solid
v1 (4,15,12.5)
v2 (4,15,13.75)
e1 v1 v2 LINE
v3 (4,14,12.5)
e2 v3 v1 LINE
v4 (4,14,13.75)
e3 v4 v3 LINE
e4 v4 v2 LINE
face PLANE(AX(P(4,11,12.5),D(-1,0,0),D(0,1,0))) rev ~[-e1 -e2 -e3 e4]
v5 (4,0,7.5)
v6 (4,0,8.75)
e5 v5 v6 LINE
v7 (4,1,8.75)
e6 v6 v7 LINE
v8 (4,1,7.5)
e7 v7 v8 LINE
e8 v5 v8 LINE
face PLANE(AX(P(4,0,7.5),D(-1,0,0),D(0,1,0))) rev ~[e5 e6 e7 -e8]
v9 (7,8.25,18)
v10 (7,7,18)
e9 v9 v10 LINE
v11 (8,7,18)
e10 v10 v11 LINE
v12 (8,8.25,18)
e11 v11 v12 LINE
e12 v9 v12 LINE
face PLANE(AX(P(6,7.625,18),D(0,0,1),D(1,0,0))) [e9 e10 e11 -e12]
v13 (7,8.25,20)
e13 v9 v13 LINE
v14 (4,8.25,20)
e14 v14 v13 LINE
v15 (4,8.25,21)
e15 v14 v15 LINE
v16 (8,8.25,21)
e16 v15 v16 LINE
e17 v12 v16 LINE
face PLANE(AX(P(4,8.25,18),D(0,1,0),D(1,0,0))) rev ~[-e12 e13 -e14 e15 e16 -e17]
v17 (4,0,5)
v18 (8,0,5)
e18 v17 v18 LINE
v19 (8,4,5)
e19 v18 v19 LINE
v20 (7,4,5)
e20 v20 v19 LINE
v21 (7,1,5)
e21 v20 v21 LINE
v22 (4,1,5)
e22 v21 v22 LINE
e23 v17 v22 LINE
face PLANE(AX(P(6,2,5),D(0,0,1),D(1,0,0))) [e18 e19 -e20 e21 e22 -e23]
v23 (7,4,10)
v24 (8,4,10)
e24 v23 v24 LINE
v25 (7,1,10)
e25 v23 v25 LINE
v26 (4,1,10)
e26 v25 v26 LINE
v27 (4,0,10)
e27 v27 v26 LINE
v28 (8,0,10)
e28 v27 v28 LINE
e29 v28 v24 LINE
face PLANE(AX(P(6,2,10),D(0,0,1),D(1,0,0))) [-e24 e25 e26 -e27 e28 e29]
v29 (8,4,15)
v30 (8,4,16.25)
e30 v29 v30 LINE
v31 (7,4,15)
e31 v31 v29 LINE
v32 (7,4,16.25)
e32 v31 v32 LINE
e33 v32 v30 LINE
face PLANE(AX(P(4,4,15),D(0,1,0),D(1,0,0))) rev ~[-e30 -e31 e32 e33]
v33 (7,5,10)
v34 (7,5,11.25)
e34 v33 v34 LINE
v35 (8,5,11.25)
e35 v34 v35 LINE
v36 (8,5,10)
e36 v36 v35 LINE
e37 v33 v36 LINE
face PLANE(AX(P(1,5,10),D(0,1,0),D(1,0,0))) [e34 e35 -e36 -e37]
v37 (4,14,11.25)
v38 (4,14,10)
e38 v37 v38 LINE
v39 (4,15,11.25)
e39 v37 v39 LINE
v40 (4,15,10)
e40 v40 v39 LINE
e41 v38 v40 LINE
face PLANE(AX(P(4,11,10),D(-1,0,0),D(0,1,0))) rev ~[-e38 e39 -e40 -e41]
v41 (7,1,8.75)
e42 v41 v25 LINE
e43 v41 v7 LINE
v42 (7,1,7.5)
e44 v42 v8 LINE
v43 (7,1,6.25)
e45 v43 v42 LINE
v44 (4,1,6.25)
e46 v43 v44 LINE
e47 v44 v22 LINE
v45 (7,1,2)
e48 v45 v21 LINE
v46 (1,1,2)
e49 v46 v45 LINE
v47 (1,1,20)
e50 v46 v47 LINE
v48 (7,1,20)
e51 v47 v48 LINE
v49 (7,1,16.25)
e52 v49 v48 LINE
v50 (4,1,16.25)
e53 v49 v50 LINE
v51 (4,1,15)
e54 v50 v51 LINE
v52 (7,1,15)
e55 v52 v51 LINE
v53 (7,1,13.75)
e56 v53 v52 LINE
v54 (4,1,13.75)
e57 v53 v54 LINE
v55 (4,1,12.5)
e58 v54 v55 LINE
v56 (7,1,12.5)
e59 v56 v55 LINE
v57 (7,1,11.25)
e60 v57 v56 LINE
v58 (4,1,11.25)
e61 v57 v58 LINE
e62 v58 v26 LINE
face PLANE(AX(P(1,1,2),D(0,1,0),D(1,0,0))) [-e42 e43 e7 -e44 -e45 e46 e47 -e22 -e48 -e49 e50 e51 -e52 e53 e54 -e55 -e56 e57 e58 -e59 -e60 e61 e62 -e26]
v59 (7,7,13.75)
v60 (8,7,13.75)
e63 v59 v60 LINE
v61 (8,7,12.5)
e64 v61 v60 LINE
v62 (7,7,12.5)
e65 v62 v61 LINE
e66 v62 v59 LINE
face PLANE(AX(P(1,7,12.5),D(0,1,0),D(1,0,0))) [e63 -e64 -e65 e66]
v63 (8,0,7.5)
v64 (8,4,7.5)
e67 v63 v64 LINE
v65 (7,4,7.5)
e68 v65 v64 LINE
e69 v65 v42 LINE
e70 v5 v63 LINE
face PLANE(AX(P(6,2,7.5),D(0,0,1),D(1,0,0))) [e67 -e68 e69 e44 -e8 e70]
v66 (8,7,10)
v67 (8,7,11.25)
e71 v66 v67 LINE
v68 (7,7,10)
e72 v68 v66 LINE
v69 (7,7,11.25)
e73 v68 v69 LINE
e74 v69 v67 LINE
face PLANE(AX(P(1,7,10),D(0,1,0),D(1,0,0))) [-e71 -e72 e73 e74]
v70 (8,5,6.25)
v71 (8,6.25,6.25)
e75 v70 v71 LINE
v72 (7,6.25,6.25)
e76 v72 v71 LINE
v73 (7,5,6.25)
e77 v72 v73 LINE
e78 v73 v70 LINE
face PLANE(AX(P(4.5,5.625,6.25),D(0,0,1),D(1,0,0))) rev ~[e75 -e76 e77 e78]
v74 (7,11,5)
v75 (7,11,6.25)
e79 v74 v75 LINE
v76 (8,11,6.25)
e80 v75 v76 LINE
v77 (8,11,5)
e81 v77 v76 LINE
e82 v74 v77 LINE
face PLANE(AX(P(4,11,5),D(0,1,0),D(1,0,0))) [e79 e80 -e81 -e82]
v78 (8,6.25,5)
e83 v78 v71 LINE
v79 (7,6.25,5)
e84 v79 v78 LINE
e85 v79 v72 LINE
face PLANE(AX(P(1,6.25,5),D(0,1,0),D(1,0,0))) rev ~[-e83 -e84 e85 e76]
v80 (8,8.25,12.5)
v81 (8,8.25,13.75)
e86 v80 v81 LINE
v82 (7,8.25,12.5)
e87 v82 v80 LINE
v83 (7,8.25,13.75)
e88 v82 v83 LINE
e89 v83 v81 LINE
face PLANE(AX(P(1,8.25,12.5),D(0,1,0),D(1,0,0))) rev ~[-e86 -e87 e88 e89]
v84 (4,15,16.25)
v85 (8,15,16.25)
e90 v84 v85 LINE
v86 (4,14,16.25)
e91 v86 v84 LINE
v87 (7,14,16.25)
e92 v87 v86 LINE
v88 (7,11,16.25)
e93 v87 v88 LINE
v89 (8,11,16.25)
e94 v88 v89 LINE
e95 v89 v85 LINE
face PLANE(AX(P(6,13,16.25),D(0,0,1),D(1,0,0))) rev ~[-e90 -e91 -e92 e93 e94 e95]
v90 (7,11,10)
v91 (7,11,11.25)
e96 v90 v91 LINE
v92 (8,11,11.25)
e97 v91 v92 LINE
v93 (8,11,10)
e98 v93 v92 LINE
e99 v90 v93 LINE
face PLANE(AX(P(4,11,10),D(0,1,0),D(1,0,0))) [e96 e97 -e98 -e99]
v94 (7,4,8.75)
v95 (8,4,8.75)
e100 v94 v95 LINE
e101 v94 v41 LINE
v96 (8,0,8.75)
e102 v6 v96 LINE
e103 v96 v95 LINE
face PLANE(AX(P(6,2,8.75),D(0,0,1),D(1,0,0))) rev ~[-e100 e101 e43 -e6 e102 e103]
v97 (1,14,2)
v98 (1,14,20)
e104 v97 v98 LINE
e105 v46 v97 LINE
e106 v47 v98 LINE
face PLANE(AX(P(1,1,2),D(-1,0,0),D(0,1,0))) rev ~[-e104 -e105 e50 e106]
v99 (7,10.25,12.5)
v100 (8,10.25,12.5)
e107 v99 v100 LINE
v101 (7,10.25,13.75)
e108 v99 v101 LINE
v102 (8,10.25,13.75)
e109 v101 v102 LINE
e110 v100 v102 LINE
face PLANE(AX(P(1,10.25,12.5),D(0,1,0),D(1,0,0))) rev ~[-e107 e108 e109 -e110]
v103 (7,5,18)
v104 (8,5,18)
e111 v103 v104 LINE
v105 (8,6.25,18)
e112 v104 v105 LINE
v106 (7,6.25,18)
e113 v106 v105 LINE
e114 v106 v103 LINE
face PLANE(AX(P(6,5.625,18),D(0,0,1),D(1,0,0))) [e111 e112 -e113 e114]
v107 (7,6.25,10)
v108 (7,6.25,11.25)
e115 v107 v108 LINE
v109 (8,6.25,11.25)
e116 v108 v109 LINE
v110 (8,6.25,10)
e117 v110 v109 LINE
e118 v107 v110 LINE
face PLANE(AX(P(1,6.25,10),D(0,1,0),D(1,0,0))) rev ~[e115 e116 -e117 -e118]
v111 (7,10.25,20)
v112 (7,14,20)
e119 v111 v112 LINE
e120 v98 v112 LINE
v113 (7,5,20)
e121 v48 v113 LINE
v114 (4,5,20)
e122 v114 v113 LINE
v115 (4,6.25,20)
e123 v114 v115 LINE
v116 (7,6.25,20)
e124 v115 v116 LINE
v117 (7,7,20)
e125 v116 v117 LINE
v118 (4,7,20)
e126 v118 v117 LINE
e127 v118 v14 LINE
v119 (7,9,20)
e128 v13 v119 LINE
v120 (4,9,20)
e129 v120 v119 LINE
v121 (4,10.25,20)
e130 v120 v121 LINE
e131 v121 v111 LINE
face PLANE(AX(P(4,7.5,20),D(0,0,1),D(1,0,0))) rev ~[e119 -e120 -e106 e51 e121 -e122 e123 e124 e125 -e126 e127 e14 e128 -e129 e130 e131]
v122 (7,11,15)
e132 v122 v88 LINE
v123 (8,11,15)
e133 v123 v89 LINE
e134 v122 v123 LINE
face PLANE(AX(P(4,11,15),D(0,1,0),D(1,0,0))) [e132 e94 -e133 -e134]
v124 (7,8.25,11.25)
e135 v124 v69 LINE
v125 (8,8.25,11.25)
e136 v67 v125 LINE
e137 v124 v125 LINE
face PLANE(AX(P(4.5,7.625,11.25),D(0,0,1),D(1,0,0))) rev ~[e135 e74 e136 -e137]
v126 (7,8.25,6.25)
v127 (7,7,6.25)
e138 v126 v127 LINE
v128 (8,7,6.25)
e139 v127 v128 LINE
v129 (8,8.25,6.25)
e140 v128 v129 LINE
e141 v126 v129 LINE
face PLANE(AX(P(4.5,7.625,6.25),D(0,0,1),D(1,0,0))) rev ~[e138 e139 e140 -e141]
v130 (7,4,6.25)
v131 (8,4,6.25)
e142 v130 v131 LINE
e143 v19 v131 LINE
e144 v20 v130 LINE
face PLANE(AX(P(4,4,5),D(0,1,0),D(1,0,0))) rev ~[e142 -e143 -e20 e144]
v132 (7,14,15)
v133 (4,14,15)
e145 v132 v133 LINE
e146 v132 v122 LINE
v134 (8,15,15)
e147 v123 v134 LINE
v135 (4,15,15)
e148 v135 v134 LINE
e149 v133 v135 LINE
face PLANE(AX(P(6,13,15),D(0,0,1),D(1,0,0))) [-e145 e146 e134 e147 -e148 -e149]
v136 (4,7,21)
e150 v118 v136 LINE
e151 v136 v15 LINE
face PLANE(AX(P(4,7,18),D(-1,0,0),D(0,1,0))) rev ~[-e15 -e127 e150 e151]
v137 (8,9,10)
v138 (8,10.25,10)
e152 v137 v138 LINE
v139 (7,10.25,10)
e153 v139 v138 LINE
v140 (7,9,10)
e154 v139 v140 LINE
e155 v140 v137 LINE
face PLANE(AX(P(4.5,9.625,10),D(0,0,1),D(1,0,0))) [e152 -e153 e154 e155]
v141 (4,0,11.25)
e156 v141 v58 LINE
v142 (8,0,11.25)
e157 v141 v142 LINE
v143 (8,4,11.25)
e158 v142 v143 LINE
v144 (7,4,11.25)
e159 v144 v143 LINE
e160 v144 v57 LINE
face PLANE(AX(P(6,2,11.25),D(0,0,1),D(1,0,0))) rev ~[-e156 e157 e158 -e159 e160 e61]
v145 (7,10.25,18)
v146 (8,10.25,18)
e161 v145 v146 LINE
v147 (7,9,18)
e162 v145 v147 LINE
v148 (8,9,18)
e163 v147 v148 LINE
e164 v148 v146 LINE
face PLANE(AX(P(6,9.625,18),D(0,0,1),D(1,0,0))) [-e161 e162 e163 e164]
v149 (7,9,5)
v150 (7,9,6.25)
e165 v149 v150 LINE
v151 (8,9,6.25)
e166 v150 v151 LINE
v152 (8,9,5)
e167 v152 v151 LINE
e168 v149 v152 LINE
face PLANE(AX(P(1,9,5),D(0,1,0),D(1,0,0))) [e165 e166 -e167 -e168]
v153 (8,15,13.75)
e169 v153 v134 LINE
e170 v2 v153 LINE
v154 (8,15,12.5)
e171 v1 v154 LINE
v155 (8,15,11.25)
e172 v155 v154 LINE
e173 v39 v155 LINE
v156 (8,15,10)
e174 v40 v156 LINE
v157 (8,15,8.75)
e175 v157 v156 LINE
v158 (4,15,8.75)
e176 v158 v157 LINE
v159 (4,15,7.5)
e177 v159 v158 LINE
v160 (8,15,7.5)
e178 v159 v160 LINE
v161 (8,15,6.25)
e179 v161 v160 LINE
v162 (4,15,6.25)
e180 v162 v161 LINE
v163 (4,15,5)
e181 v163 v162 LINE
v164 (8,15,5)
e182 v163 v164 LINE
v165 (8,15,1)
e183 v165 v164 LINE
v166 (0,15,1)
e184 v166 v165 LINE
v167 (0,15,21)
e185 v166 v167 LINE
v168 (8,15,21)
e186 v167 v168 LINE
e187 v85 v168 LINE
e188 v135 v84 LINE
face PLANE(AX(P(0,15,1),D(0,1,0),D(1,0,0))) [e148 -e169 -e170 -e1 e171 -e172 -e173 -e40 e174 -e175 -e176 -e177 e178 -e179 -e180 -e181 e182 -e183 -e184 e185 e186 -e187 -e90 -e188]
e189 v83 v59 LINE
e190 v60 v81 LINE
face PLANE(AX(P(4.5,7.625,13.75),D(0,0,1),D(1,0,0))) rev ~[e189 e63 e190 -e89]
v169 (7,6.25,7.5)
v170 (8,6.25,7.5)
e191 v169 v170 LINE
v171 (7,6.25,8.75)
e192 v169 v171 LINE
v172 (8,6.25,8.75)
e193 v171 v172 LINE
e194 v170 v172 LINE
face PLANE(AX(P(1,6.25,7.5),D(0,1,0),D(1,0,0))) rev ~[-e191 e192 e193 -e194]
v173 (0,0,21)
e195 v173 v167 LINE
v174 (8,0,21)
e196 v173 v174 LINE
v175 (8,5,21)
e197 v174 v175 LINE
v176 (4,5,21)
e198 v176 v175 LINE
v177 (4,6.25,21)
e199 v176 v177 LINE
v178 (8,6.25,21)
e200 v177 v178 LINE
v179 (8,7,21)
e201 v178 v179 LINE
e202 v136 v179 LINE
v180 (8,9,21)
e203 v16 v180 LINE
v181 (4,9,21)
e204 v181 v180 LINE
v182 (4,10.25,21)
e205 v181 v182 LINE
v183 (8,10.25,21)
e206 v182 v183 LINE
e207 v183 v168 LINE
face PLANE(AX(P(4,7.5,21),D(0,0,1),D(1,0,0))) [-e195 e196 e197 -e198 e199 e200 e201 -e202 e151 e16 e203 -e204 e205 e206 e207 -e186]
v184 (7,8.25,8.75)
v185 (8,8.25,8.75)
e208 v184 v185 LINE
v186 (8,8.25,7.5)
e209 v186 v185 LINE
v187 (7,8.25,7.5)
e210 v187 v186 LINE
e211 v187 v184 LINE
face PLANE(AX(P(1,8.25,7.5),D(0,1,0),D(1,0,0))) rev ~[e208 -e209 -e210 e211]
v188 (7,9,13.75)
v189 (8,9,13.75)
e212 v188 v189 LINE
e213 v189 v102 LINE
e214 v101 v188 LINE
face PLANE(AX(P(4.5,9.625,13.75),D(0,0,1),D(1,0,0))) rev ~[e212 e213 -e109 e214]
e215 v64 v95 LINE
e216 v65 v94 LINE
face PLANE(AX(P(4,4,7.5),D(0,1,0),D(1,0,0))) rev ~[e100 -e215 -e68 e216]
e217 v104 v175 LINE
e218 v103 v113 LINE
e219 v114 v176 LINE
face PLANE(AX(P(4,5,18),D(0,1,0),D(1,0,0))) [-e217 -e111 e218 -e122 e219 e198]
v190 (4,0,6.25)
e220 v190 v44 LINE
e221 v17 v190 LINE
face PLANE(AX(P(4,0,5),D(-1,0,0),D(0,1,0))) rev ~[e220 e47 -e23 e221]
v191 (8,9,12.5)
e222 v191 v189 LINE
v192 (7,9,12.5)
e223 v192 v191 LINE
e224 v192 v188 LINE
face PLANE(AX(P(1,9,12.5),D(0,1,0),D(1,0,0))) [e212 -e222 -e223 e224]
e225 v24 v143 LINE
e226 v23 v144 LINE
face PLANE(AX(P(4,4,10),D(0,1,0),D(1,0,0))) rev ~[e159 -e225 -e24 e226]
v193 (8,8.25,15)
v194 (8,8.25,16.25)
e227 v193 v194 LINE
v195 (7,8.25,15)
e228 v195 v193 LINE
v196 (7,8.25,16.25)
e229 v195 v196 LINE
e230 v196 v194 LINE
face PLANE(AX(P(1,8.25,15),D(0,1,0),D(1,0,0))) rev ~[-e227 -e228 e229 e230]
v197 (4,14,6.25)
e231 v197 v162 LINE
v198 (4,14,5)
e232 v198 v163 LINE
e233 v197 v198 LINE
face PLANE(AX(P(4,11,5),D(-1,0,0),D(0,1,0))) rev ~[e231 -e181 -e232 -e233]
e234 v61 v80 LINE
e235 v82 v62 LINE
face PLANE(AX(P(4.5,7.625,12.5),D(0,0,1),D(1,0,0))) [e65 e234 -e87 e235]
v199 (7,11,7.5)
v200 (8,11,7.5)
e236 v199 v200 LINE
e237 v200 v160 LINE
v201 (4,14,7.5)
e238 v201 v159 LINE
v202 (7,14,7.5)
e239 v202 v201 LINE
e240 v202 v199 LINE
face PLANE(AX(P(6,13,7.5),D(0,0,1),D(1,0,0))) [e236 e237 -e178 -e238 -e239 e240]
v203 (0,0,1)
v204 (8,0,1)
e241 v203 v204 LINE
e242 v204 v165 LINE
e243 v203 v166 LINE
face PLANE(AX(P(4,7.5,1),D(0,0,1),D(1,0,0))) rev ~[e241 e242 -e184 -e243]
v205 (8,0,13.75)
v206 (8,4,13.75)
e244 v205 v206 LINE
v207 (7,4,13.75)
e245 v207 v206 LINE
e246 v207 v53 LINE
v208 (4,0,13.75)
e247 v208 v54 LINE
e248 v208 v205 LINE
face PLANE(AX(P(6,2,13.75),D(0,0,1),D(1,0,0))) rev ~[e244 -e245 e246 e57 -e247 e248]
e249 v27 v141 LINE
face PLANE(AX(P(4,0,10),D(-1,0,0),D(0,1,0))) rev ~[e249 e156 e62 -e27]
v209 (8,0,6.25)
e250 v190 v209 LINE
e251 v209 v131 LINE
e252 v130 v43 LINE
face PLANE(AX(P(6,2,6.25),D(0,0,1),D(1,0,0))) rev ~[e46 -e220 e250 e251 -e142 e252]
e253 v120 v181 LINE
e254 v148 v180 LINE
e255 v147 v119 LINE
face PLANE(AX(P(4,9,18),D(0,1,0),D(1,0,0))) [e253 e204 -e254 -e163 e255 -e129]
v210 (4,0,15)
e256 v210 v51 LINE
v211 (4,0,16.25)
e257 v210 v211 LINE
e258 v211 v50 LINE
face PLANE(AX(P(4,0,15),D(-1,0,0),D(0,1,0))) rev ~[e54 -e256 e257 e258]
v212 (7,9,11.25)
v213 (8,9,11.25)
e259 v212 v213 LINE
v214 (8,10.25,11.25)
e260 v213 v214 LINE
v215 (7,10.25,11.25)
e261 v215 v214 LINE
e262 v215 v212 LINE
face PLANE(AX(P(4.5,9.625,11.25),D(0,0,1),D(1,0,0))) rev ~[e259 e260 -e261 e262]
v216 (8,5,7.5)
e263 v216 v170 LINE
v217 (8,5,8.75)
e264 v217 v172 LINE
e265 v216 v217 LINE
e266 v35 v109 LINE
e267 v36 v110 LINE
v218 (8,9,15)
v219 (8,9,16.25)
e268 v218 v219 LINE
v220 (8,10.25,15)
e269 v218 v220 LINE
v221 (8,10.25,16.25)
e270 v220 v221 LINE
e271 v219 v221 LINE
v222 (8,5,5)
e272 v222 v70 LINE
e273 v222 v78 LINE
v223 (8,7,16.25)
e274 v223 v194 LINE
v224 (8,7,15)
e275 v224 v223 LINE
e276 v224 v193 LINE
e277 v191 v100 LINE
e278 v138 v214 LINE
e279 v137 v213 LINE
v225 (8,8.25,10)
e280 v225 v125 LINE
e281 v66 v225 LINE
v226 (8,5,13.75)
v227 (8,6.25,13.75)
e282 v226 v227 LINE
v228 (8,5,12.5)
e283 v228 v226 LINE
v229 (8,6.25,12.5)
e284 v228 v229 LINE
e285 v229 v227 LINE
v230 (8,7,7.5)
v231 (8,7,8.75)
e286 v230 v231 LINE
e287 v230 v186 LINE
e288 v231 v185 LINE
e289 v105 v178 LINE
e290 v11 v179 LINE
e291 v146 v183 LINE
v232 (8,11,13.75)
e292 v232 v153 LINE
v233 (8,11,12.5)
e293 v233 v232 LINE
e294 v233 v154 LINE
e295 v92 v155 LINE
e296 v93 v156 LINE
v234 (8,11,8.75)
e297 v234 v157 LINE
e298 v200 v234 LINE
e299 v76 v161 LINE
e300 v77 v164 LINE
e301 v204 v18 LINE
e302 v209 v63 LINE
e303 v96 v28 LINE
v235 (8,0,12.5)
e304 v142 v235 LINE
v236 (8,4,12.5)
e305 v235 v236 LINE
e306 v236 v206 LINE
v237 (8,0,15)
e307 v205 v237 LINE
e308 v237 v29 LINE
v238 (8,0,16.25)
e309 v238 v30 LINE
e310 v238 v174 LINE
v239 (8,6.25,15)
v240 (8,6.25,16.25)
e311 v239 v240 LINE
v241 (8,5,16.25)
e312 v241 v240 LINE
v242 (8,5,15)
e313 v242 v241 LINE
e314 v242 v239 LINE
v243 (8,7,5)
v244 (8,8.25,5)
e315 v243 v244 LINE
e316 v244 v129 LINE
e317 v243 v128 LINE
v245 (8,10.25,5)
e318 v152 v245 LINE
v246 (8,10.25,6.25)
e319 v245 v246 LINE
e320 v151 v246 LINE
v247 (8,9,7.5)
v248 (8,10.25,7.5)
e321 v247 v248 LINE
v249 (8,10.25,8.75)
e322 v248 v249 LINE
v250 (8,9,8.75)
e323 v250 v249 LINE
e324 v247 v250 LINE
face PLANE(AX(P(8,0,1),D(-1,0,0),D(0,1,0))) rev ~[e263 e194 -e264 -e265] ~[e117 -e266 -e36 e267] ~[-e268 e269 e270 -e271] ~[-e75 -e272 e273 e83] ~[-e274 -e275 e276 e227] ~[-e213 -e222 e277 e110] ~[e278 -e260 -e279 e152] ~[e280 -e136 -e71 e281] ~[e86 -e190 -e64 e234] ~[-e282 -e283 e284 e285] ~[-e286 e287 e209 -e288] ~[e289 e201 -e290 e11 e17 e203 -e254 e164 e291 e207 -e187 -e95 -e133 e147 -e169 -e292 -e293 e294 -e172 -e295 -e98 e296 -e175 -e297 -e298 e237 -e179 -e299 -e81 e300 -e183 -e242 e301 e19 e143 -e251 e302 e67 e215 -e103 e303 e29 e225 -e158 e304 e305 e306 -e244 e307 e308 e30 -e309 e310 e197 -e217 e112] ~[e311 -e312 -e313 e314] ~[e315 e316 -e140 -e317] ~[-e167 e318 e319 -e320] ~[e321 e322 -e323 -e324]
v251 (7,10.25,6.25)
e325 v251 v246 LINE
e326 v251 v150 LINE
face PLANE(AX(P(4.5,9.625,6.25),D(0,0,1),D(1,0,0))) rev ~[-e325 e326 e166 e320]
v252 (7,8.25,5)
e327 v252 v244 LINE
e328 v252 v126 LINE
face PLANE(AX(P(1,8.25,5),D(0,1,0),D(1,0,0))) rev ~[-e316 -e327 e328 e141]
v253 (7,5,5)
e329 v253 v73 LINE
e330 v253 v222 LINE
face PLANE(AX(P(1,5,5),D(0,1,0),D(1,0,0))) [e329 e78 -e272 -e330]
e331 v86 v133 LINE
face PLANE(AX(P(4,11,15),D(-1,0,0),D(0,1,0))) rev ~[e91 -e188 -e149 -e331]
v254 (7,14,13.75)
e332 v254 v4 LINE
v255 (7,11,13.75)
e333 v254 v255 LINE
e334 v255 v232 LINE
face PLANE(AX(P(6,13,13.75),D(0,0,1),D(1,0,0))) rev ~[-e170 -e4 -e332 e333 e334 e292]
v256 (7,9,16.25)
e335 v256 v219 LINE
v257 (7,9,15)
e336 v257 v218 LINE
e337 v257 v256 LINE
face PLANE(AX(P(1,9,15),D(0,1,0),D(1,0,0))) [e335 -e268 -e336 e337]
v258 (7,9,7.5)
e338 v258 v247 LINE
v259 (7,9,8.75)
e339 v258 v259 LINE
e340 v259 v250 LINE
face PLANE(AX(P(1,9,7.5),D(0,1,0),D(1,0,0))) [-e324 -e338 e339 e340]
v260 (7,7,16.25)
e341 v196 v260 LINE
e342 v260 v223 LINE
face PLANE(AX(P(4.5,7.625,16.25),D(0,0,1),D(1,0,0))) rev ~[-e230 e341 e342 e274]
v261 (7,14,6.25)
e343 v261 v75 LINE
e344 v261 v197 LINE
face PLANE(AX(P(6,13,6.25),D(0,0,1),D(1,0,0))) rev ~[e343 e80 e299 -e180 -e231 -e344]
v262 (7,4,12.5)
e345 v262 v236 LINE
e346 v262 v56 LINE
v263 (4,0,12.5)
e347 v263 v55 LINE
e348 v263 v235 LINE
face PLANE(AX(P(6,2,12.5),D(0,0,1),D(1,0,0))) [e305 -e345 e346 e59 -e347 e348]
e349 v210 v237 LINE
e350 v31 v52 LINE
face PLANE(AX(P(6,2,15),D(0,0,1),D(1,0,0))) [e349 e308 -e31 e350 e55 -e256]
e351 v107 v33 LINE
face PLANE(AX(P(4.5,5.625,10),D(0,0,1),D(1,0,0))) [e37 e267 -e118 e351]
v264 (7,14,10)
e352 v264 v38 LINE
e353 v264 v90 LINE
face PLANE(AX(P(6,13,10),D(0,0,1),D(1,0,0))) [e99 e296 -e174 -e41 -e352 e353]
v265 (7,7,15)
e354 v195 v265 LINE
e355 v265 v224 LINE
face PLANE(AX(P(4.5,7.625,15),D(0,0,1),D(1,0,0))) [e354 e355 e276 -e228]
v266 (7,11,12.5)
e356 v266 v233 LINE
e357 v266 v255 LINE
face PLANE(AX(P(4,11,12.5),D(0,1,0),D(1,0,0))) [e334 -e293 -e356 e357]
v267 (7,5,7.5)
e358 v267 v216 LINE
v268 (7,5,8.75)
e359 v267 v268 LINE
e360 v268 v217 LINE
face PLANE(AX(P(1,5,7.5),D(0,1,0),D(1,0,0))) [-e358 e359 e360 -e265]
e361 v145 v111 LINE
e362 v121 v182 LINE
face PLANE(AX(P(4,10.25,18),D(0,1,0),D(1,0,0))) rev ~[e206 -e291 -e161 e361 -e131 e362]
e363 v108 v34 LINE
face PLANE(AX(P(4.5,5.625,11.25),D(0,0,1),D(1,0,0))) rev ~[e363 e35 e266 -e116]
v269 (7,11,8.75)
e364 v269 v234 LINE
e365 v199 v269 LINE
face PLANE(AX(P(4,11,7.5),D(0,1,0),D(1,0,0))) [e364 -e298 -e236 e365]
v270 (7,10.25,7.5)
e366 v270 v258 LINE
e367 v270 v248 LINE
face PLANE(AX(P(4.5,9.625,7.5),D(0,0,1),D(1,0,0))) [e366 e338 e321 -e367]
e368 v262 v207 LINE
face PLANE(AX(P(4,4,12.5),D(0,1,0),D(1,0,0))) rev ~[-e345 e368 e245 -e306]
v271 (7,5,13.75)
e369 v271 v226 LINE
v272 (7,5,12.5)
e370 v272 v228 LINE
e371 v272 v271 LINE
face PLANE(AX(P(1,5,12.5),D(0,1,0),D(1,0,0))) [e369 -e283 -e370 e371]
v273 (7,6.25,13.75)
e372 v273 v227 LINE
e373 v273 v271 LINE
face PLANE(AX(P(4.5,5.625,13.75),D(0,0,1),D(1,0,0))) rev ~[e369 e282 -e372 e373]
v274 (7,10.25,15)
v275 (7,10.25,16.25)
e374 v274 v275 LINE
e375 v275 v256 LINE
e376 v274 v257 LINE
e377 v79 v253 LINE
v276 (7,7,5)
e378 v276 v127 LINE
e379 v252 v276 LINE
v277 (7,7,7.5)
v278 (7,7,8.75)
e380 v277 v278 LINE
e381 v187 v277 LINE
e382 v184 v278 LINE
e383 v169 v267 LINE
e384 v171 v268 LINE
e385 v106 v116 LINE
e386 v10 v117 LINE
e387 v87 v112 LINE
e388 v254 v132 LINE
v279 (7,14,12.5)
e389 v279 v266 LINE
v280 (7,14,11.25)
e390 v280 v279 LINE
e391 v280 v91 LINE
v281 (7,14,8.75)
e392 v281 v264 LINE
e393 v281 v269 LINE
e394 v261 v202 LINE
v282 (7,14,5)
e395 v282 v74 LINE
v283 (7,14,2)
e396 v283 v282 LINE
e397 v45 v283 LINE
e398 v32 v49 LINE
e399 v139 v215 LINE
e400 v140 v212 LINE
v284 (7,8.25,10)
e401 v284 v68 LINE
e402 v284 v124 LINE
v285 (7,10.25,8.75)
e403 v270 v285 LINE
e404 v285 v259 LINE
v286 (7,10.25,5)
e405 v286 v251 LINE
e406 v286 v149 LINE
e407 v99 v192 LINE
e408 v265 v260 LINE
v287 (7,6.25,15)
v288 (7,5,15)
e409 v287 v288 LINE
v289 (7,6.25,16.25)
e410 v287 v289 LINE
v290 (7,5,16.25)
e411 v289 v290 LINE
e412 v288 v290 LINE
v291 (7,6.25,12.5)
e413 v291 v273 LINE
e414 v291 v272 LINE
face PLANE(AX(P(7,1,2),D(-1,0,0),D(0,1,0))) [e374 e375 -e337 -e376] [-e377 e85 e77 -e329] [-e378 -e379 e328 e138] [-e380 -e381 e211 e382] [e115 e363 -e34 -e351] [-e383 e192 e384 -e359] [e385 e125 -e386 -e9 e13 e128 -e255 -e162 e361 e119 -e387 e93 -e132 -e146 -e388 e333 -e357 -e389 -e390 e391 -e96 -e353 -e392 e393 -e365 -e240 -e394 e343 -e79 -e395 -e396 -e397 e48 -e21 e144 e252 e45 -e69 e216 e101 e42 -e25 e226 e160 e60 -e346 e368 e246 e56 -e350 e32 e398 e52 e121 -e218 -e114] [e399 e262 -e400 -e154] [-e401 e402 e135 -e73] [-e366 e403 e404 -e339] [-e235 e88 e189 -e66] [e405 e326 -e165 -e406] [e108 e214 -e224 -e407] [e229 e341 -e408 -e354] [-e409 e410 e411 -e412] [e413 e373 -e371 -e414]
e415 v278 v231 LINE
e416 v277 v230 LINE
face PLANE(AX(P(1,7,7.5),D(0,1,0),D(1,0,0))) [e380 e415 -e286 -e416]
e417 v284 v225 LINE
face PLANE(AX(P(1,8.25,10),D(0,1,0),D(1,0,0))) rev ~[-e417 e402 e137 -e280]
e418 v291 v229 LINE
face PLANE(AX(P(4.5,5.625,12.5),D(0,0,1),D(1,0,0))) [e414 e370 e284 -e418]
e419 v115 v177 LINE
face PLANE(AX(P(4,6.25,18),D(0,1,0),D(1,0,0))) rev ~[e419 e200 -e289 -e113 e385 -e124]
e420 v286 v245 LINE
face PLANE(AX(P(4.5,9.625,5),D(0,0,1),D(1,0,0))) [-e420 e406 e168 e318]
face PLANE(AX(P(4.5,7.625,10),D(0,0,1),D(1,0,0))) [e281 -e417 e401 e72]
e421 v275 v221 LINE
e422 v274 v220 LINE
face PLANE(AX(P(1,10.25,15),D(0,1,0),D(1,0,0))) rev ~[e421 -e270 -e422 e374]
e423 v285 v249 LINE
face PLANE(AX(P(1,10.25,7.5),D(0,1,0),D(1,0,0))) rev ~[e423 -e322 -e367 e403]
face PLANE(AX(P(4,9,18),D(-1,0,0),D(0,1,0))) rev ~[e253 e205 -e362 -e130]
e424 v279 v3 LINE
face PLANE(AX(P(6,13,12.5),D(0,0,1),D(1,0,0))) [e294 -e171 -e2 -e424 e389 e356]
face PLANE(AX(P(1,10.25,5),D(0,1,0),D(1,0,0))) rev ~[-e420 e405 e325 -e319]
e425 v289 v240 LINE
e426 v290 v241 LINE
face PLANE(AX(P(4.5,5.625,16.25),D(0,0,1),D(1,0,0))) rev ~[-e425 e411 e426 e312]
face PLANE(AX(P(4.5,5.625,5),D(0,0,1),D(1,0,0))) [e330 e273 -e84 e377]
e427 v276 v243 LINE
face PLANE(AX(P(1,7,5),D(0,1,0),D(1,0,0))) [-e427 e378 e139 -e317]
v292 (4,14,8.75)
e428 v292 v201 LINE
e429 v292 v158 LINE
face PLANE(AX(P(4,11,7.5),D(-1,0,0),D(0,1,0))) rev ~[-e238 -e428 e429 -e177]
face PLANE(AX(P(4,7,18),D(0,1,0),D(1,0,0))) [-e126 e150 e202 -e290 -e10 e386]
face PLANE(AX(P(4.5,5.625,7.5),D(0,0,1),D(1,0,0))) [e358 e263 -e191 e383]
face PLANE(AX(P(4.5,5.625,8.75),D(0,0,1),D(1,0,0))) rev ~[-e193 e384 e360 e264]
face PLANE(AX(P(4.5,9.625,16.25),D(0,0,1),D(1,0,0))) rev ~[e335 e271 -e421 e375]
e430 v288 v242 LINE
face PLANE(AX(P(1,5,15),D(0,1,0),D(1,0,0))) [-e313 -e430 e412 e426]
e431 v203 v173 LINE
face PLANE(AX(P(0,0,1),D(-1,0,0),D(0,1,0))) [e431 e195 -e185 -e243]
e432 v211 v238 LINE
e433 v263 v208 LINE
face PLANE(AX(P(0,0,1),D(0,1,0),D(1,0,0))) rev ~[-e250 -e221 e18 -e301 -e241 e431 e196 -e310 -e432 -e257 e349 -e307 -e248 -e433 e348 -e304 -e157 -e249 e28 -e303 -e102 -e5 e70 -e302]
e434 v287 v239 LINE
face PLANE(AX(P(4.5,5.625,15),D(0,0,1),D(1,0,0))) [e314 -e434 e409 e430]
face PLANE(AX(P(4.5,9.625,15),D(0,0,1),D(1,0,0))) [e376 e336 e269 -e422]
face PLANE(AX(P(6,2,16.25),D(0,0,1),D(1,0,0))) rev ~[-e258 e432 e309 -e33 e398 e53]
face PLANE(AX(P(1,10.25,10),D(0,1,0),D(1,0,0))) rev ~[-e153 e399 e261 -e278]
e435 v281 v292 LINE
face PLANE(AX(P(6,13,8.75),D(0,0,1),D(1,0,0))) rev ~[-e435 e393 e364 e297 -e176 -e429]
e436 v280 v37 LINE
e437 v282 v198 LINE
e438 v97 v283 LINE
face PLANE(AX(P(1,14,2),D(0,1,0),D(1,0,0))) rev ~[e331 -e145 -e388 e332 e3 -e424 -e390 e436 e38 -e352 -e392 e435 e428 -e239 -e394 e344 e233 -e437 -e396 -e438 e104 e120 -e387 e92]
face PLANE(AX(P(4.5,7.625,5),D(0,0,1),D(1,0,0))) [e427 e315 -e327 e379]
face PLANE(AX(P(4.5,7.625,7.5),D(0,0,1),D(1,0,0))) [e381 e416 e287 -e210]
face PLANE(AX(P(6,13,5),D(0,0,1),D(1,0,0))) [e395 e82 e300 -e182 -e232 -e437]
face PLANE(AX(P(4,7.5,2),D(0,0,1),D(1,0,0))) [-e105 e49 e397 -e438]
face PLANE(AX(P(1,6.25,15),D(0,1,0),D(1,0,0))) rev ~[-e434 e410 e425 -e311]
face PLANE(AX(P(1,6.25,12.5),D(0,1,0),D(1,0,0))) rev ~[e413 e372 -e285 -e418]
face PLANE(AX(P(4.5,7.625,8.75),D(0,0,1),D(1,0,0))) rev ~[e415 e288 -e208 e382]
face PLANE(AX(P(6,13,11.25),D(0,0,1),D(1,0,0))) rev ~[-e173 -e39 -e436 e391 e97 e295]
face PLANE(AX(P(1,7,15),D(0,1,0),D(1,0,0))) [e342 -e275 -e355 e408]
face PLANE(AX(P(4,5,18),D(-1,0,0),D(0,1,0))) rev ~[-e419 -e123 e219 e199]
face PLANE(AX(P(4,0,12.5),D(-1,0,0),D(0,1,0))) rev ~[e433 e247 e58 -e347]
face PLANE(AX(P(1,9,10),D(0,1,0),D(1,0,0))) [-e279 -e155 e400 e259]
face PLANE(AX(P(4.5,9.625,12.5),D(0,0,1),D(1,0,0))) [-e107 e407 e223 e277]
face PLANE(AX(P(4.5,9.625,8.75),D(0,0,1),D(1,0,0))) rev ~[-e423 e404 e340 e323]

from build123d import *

# Parameters (mm, degrees)
BOX029_W     = 6
BOX029_H     = 13
BOX029_DEPTH = 18
BOX027_W     = 4
BOX027_H     = 1.25
BOX027_DEPTH = 3
BOX026_W     = 4
BOX026_H     = 1.25
BOX026_DEPTH = 3
BOX028_W     = 4
BOX028_H     = 1.25
BOX028_DEPTH = 3
BOX025_W     = 4
BOX025_H     = 4
BOX025_DEPTH = 1.25
BOX024_W     = 4
BOX024_H     = 4
BOX024_DEPTH = 1.25
BOX023_W     = 4
BOX023_H     = 4
BOX023_DEPTH = 1.25
BOX022_W     = 4
BOX022_H     = 4
BOX022_DEPTH = 1.25
BOX021_W     = 4
BOX021_H     = 4
BOX021_DEPTH = 1.25
BOX020_W     = 4
BOX020_H     = 4
BOX020_DEPTH = 1.25
BOX019_W     = 4
BOX019_H     = 4
BOX019_DEPTH = 1.25
BOX018_W     = 4
BOX018_H     = 4
BOX018_DEPTH = 1.25
BOX017_W     = 4
BOX017_H     = 4
BOX017_DEPTH = 1.25
BOX016_W     = 4
BOX016_H     = 4
BOX016_DEPTH = 1.25
BOX015_W     = 7
BOX015_H     = 1.25
BOX015_DEPTH = 1.25
BOX014_W     = 7
BOX014_H     = 1.25
BOX014_DEPTH = 1.25
BOX013_W     = 7
BOX013_H     = 1.25
BOX013_DEPTH = 1.25
BOX012_W     = 7
BOX012_H     = 1.25
BOX012_DEPTH = 1.25
BOX011_W     = 7
BOX011_H     = 1.25
BOX011_DEPTH = 1.25
BOX010_W     = 7
BOX010_H     = 1.25
BOX010_DEPTH = 1.25
BOX009_W     = 7
BOX009_H     = 1.25
BOX009_DEPTH = 1.25
BOX008_W     = 7
BOX008_H     = 1.25
BOX008_DEPTH = 1.25
BOX007_W     = 7
BOX007_H     = 1.25
BOX007_DEPTH = 1.25
BOX006_W     = 7
BOX006_H     = 1.25
BOX006_DEPTH = 1.25
BOX005_W     = 7
BOX005_H     = 1.25
BOX005_DEPTH = 1.25
BOX004_W     = 7
BOX004_H     = 1.25
BOX004_DEPTH = 1.25
BOX003_W     = 7
BOX003_H     = 1.25
BOX003_DEPTH = 1.25
BOX002_W     = 7
BOX002_H     = 1.25
BOX002_DEPTH = 1.25
BOX001_W     = 7
BOX001_H     = 1.25
BOX001_DEPTH = 1.25
BOX_W        = 8
BOX_H        = 15
BOX_DEPTH    = 20


with BuildPart() as middle:
    # Box029 → Box029 (new body)
    with BuildSketch(Plane(origin=(1, 1, 2), x_dir=(1, 0, 0), z_dir=(0, 0, 1))):
        with Locations((3, 6.5)):
            Rectangle(BOX029_W, BOX029_H)
    extrude(amount=BOX029_DEPTH)


with BuildPart() as cube027:
    # Box027 → Box027 (new body)
    with BuildSketch(Plane(origin=(4, 7, 18), x_dir=(1, 0, 0), z_dir=(0, 0, 1))):
        with Locations((2, 0.625)):
            Rectangle(BOX027_W, BOX027_H)
    extrude(amount=BOX027_DEPTH)


with BuildPart() as cube026:
    # Box026 → Box026 (new body)
    with BuildSketch(Plane(origin=(4, 9, 18), x_dir=(1, 0, 0), z_dir=(0, 0, 1))):
        with Locations((2, 0.625)):
            Rectangle(BOX026_W, BOX026_H)
    extrude(amount=BOX026_DEPTH)


with BuildPart() as cube028:
    # Box028 → Box028 (new body)
    with BuildSketch(Plane(origin=(4, 5, 18), x_dir=(1, 0, 0), z_dir=(0, 0, 1))):
        with Locations((2, 0.625)):
            Rectangle(BOX028_W, BOX028_H)
    extrude(amount=BOX028_DEPTH)


with BuildPart() as cube025:
    # Box025 → Box025 (new body)
    with BuildSketch(Plane(origin=(4, 11, 5), x_dir=(1, 0, 0), z_dir=(0, 0, 1))):
        with Locations((2, 2)):
            Rectangle(BOX025_W, BOX025_H)
    extrude(amount=BOX025_DEPTH)


with BuildPart() as cube024:
    # Box024 → Box024 (new body)
    with BuildSketch(Plane(origin=(4, 11, 7.5), x_dir=(1, 0, 0), z_dir=(0, 0, 1))):
        with Locations((2, 2)):
            Rectangle(BOX024_W, BOX024_H)
    extrude(amount=BOX024_DEPTH)


with BuildPart() as cube023:
    # Box023 → Box023 (new body)
    with BuildSketch(Plane(origin=(4, 11, 10), x_dir=(1, 0, 0), z_dir=(0, 0, 1))):
        with Locations((2, 2)):
            Rectangle(BOX023_W, BOX023_H)
    extrude(amount=BOX023_DEPTH)


with BuildPart() as cube022:
    # Box022 → Box022 (new body)
    with BuildSketch(Plane(origin=(4, 11, 12.5), x_dir=(1, 0, 0), z_dir=(0, 0, 1))):
        with Locations((2, 2)):
            Rectangle(BOX022_W, BOX022_H)
    extrude(amount=BOX022_DEPTH)


with BuildPart() as cube021:
    # Box021 → Box021 (new body)
    with BuildSketch(Plane(origin=(4, 11, 15), x_dir=(1, 0, 0), z_dir=(0, 0, 1))):
        with Locations((2, 2)):
            Rectangle(BOX021_W, BOX021_H)
    extrude(amount=BOX021_DEPTH)


with BuildPart() as cube020:
    # Box020 → Box020 (new body)
    with BuildSketch(Plane(origin=(4, 0, 15), x_dir=(1, 0, 0), z_dir=(0, 0, 1))):
        with Locations((2, 2)):
            Rectangle(BOX020_W, BOX020_H)
    extrude(amount=BOX020_DEPTH)


with BuildPart() as cube019:
    # Box019 → Box019 (new body)
    with BuildSketch(Plane(origin=(4, 0, 12.5), x_dir=(1, 0, 0), z_dir=(0, 0, 1))):
        with Locations((2, 2)):
            Rectangle(BOX019_W, BOX019_H)
    extrude(amount=BOX019_DEPTH)


with BuildPart() as cube018:
    # Box018 → Box018 (new body)
    with BuildSketch(Plane(origin=(4, 0, 10), x_dir=(1, 0, 0), z_dir=(0, 0, 1))):
        with Locations((2, 2)):
            Rectangle(BOX018_W, BOX018_H)
    extrude(amount=BOX018_DEPTH)


with BuildPart() as cube017:
    # Box017 → Box017 (new body)
    with BuildSketch(Plane(origin=(4, 0, 7.5), x_dir=(1, 0, 0), z_dir=(0, 0, 1))):
        with Locations((2, 2)):
            Rectangle(BOX017_W, BOX017_H)
    extrude(amount=BOX017_DEPTH)


with BuildPart() as cube016:
    # Box016 → Box016 (new body)
    with BuildSketch(Plane(origin=(4, 0, 5), x_dir=(1, 0, 0), z_dir=(0, 0, 1))):
        with Locations((2, 2)):
            Rectangle(BOX016_W, BOX016_H)
    extrude(amount=BOX016_DEPTH)


with BuildPart() as cube015:
    # Box015 → Box015 (new body)
    with BuildSketch(Plane(origin=(1, 9, 5), x_dir=(1, 0, 0), z_dir=(0, 0, 1))):
        with Locations((3.5, 0.625)):
            Rectangle(BOX015_W, BOX015_H)
    extrude(amount=BOX015_DEPTH)


with BuildPart() as cube014:
    # Box014 → Box014 (new body)
    with BuildSketch(Plane(origin=(1, 7, 5), x_dir=(1, 0, 0), z_dir=(0, 0, 1))):
        with Locations((3.5, 0.625)):
            Rectangle(BOX014_W, BOX014_H)
    extrude(amount=BOX014_DEPTH)


with BuildPart() as cube013:
    # Box013 → Box013 (new body)
    with BuildSketch(Plane(origin=(1, 5, 5), x_dir=(1, 0, 0), z_dir=(0, 0, 1))):
        with Locations((3.5, 0.625)):
            Rectangle(BOX013_W, BOX013_H)
    extrude(amount=BOX013_DEPTH)


with BuildPart() as cube012:
    # Box012 → Box012 (new body)
    with BuildSketch(Plane(origin=(1, 5, 7.5), x_dir=(1, 0, 0), z_dir=(0, 0, 1))):
        with Locations((3.5, 0.625)):
            Rectangle(BOX012_W, BOX012_H)
    extrude(amount=BOX012_DEPTH)


with BuildPart() as cube011:
    # Box011 → Box011 (new body)
    with BuildSketch(Plane(origin=(1, 7, 7.5), x_dir=(1, 0, 0), z_dir=(0, 0, 1))):
        with Locations((3.5, 0.625)):
            Rectangle(BOX011_W, BOX011_H)
    extrude(amount=BOX011_DEPTH)


with BuildPart() as cube010:
    # Box010 → Box010 (new body)
    with BuildSketch(Plane(origin=(1, 7, 10), x_dir=(1, 0, 0), z_dir=(0, 0, 1))):
        with Locations((3.5, 0.625)):
            Rectangle(BOX010_W, BOX010_H)
    extrude(amount=BOX010_DEPTH)


with BuildPart() as cube009:
    # Box009 → Box009 (new body)
    with BuildSketch(Plane(origin=(1, 9, 7.5), x_dir=(1, 0, 0), z_dir=(0, 0, 1))):
        with Locations((3.5, 0.625)):
            Rectangle(BOX009_W, BOX009_H)
    extrude(amount=BOX009_DEPTH)


with BuildPart() as cube008:
    # Box008 → Box008 (new body)
    with BuildSketch(Plane(origin=(1, 9, 10), x_dir=(1, 0, 0), z_dir=(0, 0, 1))):
        with Locations((3.5, 0.625)):
            Rectangle(BOX008_W, BOX008_H)
    extrude(amount=BOX008_DEPTH)


with BuildPart() as cube007:
    # Box007 → Box007 (new body)
    with BuildSketch(Plane(origin=(1, 5, 10), x_dir=(1, 0, 0), z_dir=(0, 0, 1))):
        with Locations((3.5, 0.625)):
            Rectangle(BOX007_W, BOX007_H)
    extrude(amount=BOX007_DEPTH)


with BuildPart() as cube006:
    # Box006 → Box006 (new body)
    with BuildSketch(Plane(origin=(1, 5, 12.5), x_dir=(1, 0, 0), z_dir=(0, 0, 1))):
        with Locations((3.5, 0.625)):
            Rectangle(BOX006_W, BOX006_H)
    extrude(amount=BOX006_DEPTH)


with BuildPart() as cube005:
    # Box005 → Box005 (new body)
    with BuildSketch(Plane(origin=(1, 9, 12.5), x_dir=(1, 0, 0), z_dir=(0, 0, 1))):
        with Locations((3.5, 0.625)):
            Rectangle(BOX005_W, BOX005_H)
    extrude(amount=BOX005_DEPTH)


with BuildPart() as cube004:
    # Box004 → Box004 (new body)
    with BuildSketch(Plane(origin=(1, 7, 12.5), x_dir=(1, 0, 0), z_dir=(0, 0, 1))):
        with Locations((3.5, 0.625)):
            Rectangle(BOX004_W, BOX004_H)
    extrude(amount=BOX004_DEPTH)


with BuildPart() as cube003:
    # Box003 → Box003 (new body)
    with BuildSketch(Plane(origin=(1, 9, 15), x_dir=(1, 0, 0), z_dir=(0, 0, 1))):
        with Locations((3.5, 0.625)):
            Rectangle(BOX003_W, BOX003_H)
    extrude(amount=BOX003_DEPTH)


with BuildPart() as cube002:
    # Box002 → Box002 (new body)
    with BuildSketch(Plane(origin=(1, 7, 15), x_dir=(1, 0, 0), z_dir=(0, 0, 1))):
        with Locations((3.5, 0.625)):
            Rectangle(BOX002_W, BOX002_H)
    extrude(amount=BOX002_DEPTH)


with BuildPart() as cube001:
    # Box001 → Box001 (new body)
    with BuildSketch(Plane(origin=(1, 5, 15), x_dir=(1, 0, 0), z_dir=(0, 0, 1))):
        with Locations((3.5, 0.625)):
            Rectangle(BOX001_W, BOX001_H)
    extrude(amount=BOX001_DEPTH)


with BuildPart() as cut045:
    # Box → Box (new body)
    with BuildSketch(Plane.XY.offset(1)):
        with Locations((4, 7.5)):
            Rectangle(BOX_W, BOX_H)
    extrude(amount=BOX_DEPTH)

    # Cut: cut Cube001
    add(cube001.part, mode=Mode.SUBTRACT)

    # Cut001: cut Cube002
    add(cube002.part, mode=Mode.SUBTRACT)

    # Cut002: cut Cube003
    add(cube003.part, mode=Mode.SUBTRACT)

    # Cut003: cut Cube004
    add(cube004.part, mode=Mode.SUBTRACT)

    # Cut004: cut Cube005
    add(cube005.part, mode=Mode.SUBTRACT)

    # Cut005: cut Cube006
    add(cube006.part, mode=Mode.SUBTRACT)

    # Cut006: cut Cube007
    add(cube007.part, mode=Mode.SUBTRACT)

    # Cut007: cut Cube008
    add(cube008.part, mode=Mode.SUBTRACT)

    # Cut008: cut Cube009
    add(cube009.part, mode=Mode.SUBTRACT)

    # Cut009: cut Cube010
    add(cube010.part, mode=Mode.SUBTRACT)

    # Cut010: cut Cube011
    add(cube011.part, mode=Mode.SUBTRACT)

    # Cut011: cut Cube012
    add(cube012.part, mode=Mode.SUBTRACT)

    # Cut012: cut Cube013
    add(cube013.part, mode=Mode.SUBTRACT)

    # Cut013: cut Cube014
    add(cube014.part, mode=Mode.SUBTRACT)

    # Cut014: cut Cube015
    add(cube015.part, mode=Mode.SUBTRACT)

    # Cut032: cut Cube016
    add(cube016.part, mode=Mode.SUBTRACT)

    # Cut033: cut Cube017
    add(cube017.part, mode=Mode.SUBTRACT)

    # Cut034: cut Cube018
    add(cube018.part, mode=Mode.SUBTRACT)

    # Cut035: cut Cube019
    add(cube019.part, mode=Mode.SUBTRACT)

    # Cut036: cut Cube020
    add(cube020.part, mode=Mode.SUBTRACT)

    # Cut037: cut Cube021
    add(cube021.part, mode=Mode.SUBTRACT)

    # Cut038: cut Cube022
    add(cube022.part, mode=Mode.SUBTRACT)

    # Cut039: cut Cube023
    add(cube023.part, mode=Mode.SUBTRACT)

    # Cut040: cut Cube024
    add(cube024.part, mode=Mode.SUBTRACT)

    # Cut041: cut Cube025
    add(cube025.part, mode=Mode.SUBTRACT)

    # Cut042: cut Cube028
    add(cube028.part, mode=Mode.SUBTRACT)

    # Cut043: cut Cube026
    add(cube026.part, mode=Mode.SUBTRACT)

    # Cut044: cut Cube027
    add(cube027.part, mode=Mode.SUBTRACT)

    # Cut045: cut Middle
    add(middle.part, mode=Mode.SUBTRACT)


solid = cut045.part
